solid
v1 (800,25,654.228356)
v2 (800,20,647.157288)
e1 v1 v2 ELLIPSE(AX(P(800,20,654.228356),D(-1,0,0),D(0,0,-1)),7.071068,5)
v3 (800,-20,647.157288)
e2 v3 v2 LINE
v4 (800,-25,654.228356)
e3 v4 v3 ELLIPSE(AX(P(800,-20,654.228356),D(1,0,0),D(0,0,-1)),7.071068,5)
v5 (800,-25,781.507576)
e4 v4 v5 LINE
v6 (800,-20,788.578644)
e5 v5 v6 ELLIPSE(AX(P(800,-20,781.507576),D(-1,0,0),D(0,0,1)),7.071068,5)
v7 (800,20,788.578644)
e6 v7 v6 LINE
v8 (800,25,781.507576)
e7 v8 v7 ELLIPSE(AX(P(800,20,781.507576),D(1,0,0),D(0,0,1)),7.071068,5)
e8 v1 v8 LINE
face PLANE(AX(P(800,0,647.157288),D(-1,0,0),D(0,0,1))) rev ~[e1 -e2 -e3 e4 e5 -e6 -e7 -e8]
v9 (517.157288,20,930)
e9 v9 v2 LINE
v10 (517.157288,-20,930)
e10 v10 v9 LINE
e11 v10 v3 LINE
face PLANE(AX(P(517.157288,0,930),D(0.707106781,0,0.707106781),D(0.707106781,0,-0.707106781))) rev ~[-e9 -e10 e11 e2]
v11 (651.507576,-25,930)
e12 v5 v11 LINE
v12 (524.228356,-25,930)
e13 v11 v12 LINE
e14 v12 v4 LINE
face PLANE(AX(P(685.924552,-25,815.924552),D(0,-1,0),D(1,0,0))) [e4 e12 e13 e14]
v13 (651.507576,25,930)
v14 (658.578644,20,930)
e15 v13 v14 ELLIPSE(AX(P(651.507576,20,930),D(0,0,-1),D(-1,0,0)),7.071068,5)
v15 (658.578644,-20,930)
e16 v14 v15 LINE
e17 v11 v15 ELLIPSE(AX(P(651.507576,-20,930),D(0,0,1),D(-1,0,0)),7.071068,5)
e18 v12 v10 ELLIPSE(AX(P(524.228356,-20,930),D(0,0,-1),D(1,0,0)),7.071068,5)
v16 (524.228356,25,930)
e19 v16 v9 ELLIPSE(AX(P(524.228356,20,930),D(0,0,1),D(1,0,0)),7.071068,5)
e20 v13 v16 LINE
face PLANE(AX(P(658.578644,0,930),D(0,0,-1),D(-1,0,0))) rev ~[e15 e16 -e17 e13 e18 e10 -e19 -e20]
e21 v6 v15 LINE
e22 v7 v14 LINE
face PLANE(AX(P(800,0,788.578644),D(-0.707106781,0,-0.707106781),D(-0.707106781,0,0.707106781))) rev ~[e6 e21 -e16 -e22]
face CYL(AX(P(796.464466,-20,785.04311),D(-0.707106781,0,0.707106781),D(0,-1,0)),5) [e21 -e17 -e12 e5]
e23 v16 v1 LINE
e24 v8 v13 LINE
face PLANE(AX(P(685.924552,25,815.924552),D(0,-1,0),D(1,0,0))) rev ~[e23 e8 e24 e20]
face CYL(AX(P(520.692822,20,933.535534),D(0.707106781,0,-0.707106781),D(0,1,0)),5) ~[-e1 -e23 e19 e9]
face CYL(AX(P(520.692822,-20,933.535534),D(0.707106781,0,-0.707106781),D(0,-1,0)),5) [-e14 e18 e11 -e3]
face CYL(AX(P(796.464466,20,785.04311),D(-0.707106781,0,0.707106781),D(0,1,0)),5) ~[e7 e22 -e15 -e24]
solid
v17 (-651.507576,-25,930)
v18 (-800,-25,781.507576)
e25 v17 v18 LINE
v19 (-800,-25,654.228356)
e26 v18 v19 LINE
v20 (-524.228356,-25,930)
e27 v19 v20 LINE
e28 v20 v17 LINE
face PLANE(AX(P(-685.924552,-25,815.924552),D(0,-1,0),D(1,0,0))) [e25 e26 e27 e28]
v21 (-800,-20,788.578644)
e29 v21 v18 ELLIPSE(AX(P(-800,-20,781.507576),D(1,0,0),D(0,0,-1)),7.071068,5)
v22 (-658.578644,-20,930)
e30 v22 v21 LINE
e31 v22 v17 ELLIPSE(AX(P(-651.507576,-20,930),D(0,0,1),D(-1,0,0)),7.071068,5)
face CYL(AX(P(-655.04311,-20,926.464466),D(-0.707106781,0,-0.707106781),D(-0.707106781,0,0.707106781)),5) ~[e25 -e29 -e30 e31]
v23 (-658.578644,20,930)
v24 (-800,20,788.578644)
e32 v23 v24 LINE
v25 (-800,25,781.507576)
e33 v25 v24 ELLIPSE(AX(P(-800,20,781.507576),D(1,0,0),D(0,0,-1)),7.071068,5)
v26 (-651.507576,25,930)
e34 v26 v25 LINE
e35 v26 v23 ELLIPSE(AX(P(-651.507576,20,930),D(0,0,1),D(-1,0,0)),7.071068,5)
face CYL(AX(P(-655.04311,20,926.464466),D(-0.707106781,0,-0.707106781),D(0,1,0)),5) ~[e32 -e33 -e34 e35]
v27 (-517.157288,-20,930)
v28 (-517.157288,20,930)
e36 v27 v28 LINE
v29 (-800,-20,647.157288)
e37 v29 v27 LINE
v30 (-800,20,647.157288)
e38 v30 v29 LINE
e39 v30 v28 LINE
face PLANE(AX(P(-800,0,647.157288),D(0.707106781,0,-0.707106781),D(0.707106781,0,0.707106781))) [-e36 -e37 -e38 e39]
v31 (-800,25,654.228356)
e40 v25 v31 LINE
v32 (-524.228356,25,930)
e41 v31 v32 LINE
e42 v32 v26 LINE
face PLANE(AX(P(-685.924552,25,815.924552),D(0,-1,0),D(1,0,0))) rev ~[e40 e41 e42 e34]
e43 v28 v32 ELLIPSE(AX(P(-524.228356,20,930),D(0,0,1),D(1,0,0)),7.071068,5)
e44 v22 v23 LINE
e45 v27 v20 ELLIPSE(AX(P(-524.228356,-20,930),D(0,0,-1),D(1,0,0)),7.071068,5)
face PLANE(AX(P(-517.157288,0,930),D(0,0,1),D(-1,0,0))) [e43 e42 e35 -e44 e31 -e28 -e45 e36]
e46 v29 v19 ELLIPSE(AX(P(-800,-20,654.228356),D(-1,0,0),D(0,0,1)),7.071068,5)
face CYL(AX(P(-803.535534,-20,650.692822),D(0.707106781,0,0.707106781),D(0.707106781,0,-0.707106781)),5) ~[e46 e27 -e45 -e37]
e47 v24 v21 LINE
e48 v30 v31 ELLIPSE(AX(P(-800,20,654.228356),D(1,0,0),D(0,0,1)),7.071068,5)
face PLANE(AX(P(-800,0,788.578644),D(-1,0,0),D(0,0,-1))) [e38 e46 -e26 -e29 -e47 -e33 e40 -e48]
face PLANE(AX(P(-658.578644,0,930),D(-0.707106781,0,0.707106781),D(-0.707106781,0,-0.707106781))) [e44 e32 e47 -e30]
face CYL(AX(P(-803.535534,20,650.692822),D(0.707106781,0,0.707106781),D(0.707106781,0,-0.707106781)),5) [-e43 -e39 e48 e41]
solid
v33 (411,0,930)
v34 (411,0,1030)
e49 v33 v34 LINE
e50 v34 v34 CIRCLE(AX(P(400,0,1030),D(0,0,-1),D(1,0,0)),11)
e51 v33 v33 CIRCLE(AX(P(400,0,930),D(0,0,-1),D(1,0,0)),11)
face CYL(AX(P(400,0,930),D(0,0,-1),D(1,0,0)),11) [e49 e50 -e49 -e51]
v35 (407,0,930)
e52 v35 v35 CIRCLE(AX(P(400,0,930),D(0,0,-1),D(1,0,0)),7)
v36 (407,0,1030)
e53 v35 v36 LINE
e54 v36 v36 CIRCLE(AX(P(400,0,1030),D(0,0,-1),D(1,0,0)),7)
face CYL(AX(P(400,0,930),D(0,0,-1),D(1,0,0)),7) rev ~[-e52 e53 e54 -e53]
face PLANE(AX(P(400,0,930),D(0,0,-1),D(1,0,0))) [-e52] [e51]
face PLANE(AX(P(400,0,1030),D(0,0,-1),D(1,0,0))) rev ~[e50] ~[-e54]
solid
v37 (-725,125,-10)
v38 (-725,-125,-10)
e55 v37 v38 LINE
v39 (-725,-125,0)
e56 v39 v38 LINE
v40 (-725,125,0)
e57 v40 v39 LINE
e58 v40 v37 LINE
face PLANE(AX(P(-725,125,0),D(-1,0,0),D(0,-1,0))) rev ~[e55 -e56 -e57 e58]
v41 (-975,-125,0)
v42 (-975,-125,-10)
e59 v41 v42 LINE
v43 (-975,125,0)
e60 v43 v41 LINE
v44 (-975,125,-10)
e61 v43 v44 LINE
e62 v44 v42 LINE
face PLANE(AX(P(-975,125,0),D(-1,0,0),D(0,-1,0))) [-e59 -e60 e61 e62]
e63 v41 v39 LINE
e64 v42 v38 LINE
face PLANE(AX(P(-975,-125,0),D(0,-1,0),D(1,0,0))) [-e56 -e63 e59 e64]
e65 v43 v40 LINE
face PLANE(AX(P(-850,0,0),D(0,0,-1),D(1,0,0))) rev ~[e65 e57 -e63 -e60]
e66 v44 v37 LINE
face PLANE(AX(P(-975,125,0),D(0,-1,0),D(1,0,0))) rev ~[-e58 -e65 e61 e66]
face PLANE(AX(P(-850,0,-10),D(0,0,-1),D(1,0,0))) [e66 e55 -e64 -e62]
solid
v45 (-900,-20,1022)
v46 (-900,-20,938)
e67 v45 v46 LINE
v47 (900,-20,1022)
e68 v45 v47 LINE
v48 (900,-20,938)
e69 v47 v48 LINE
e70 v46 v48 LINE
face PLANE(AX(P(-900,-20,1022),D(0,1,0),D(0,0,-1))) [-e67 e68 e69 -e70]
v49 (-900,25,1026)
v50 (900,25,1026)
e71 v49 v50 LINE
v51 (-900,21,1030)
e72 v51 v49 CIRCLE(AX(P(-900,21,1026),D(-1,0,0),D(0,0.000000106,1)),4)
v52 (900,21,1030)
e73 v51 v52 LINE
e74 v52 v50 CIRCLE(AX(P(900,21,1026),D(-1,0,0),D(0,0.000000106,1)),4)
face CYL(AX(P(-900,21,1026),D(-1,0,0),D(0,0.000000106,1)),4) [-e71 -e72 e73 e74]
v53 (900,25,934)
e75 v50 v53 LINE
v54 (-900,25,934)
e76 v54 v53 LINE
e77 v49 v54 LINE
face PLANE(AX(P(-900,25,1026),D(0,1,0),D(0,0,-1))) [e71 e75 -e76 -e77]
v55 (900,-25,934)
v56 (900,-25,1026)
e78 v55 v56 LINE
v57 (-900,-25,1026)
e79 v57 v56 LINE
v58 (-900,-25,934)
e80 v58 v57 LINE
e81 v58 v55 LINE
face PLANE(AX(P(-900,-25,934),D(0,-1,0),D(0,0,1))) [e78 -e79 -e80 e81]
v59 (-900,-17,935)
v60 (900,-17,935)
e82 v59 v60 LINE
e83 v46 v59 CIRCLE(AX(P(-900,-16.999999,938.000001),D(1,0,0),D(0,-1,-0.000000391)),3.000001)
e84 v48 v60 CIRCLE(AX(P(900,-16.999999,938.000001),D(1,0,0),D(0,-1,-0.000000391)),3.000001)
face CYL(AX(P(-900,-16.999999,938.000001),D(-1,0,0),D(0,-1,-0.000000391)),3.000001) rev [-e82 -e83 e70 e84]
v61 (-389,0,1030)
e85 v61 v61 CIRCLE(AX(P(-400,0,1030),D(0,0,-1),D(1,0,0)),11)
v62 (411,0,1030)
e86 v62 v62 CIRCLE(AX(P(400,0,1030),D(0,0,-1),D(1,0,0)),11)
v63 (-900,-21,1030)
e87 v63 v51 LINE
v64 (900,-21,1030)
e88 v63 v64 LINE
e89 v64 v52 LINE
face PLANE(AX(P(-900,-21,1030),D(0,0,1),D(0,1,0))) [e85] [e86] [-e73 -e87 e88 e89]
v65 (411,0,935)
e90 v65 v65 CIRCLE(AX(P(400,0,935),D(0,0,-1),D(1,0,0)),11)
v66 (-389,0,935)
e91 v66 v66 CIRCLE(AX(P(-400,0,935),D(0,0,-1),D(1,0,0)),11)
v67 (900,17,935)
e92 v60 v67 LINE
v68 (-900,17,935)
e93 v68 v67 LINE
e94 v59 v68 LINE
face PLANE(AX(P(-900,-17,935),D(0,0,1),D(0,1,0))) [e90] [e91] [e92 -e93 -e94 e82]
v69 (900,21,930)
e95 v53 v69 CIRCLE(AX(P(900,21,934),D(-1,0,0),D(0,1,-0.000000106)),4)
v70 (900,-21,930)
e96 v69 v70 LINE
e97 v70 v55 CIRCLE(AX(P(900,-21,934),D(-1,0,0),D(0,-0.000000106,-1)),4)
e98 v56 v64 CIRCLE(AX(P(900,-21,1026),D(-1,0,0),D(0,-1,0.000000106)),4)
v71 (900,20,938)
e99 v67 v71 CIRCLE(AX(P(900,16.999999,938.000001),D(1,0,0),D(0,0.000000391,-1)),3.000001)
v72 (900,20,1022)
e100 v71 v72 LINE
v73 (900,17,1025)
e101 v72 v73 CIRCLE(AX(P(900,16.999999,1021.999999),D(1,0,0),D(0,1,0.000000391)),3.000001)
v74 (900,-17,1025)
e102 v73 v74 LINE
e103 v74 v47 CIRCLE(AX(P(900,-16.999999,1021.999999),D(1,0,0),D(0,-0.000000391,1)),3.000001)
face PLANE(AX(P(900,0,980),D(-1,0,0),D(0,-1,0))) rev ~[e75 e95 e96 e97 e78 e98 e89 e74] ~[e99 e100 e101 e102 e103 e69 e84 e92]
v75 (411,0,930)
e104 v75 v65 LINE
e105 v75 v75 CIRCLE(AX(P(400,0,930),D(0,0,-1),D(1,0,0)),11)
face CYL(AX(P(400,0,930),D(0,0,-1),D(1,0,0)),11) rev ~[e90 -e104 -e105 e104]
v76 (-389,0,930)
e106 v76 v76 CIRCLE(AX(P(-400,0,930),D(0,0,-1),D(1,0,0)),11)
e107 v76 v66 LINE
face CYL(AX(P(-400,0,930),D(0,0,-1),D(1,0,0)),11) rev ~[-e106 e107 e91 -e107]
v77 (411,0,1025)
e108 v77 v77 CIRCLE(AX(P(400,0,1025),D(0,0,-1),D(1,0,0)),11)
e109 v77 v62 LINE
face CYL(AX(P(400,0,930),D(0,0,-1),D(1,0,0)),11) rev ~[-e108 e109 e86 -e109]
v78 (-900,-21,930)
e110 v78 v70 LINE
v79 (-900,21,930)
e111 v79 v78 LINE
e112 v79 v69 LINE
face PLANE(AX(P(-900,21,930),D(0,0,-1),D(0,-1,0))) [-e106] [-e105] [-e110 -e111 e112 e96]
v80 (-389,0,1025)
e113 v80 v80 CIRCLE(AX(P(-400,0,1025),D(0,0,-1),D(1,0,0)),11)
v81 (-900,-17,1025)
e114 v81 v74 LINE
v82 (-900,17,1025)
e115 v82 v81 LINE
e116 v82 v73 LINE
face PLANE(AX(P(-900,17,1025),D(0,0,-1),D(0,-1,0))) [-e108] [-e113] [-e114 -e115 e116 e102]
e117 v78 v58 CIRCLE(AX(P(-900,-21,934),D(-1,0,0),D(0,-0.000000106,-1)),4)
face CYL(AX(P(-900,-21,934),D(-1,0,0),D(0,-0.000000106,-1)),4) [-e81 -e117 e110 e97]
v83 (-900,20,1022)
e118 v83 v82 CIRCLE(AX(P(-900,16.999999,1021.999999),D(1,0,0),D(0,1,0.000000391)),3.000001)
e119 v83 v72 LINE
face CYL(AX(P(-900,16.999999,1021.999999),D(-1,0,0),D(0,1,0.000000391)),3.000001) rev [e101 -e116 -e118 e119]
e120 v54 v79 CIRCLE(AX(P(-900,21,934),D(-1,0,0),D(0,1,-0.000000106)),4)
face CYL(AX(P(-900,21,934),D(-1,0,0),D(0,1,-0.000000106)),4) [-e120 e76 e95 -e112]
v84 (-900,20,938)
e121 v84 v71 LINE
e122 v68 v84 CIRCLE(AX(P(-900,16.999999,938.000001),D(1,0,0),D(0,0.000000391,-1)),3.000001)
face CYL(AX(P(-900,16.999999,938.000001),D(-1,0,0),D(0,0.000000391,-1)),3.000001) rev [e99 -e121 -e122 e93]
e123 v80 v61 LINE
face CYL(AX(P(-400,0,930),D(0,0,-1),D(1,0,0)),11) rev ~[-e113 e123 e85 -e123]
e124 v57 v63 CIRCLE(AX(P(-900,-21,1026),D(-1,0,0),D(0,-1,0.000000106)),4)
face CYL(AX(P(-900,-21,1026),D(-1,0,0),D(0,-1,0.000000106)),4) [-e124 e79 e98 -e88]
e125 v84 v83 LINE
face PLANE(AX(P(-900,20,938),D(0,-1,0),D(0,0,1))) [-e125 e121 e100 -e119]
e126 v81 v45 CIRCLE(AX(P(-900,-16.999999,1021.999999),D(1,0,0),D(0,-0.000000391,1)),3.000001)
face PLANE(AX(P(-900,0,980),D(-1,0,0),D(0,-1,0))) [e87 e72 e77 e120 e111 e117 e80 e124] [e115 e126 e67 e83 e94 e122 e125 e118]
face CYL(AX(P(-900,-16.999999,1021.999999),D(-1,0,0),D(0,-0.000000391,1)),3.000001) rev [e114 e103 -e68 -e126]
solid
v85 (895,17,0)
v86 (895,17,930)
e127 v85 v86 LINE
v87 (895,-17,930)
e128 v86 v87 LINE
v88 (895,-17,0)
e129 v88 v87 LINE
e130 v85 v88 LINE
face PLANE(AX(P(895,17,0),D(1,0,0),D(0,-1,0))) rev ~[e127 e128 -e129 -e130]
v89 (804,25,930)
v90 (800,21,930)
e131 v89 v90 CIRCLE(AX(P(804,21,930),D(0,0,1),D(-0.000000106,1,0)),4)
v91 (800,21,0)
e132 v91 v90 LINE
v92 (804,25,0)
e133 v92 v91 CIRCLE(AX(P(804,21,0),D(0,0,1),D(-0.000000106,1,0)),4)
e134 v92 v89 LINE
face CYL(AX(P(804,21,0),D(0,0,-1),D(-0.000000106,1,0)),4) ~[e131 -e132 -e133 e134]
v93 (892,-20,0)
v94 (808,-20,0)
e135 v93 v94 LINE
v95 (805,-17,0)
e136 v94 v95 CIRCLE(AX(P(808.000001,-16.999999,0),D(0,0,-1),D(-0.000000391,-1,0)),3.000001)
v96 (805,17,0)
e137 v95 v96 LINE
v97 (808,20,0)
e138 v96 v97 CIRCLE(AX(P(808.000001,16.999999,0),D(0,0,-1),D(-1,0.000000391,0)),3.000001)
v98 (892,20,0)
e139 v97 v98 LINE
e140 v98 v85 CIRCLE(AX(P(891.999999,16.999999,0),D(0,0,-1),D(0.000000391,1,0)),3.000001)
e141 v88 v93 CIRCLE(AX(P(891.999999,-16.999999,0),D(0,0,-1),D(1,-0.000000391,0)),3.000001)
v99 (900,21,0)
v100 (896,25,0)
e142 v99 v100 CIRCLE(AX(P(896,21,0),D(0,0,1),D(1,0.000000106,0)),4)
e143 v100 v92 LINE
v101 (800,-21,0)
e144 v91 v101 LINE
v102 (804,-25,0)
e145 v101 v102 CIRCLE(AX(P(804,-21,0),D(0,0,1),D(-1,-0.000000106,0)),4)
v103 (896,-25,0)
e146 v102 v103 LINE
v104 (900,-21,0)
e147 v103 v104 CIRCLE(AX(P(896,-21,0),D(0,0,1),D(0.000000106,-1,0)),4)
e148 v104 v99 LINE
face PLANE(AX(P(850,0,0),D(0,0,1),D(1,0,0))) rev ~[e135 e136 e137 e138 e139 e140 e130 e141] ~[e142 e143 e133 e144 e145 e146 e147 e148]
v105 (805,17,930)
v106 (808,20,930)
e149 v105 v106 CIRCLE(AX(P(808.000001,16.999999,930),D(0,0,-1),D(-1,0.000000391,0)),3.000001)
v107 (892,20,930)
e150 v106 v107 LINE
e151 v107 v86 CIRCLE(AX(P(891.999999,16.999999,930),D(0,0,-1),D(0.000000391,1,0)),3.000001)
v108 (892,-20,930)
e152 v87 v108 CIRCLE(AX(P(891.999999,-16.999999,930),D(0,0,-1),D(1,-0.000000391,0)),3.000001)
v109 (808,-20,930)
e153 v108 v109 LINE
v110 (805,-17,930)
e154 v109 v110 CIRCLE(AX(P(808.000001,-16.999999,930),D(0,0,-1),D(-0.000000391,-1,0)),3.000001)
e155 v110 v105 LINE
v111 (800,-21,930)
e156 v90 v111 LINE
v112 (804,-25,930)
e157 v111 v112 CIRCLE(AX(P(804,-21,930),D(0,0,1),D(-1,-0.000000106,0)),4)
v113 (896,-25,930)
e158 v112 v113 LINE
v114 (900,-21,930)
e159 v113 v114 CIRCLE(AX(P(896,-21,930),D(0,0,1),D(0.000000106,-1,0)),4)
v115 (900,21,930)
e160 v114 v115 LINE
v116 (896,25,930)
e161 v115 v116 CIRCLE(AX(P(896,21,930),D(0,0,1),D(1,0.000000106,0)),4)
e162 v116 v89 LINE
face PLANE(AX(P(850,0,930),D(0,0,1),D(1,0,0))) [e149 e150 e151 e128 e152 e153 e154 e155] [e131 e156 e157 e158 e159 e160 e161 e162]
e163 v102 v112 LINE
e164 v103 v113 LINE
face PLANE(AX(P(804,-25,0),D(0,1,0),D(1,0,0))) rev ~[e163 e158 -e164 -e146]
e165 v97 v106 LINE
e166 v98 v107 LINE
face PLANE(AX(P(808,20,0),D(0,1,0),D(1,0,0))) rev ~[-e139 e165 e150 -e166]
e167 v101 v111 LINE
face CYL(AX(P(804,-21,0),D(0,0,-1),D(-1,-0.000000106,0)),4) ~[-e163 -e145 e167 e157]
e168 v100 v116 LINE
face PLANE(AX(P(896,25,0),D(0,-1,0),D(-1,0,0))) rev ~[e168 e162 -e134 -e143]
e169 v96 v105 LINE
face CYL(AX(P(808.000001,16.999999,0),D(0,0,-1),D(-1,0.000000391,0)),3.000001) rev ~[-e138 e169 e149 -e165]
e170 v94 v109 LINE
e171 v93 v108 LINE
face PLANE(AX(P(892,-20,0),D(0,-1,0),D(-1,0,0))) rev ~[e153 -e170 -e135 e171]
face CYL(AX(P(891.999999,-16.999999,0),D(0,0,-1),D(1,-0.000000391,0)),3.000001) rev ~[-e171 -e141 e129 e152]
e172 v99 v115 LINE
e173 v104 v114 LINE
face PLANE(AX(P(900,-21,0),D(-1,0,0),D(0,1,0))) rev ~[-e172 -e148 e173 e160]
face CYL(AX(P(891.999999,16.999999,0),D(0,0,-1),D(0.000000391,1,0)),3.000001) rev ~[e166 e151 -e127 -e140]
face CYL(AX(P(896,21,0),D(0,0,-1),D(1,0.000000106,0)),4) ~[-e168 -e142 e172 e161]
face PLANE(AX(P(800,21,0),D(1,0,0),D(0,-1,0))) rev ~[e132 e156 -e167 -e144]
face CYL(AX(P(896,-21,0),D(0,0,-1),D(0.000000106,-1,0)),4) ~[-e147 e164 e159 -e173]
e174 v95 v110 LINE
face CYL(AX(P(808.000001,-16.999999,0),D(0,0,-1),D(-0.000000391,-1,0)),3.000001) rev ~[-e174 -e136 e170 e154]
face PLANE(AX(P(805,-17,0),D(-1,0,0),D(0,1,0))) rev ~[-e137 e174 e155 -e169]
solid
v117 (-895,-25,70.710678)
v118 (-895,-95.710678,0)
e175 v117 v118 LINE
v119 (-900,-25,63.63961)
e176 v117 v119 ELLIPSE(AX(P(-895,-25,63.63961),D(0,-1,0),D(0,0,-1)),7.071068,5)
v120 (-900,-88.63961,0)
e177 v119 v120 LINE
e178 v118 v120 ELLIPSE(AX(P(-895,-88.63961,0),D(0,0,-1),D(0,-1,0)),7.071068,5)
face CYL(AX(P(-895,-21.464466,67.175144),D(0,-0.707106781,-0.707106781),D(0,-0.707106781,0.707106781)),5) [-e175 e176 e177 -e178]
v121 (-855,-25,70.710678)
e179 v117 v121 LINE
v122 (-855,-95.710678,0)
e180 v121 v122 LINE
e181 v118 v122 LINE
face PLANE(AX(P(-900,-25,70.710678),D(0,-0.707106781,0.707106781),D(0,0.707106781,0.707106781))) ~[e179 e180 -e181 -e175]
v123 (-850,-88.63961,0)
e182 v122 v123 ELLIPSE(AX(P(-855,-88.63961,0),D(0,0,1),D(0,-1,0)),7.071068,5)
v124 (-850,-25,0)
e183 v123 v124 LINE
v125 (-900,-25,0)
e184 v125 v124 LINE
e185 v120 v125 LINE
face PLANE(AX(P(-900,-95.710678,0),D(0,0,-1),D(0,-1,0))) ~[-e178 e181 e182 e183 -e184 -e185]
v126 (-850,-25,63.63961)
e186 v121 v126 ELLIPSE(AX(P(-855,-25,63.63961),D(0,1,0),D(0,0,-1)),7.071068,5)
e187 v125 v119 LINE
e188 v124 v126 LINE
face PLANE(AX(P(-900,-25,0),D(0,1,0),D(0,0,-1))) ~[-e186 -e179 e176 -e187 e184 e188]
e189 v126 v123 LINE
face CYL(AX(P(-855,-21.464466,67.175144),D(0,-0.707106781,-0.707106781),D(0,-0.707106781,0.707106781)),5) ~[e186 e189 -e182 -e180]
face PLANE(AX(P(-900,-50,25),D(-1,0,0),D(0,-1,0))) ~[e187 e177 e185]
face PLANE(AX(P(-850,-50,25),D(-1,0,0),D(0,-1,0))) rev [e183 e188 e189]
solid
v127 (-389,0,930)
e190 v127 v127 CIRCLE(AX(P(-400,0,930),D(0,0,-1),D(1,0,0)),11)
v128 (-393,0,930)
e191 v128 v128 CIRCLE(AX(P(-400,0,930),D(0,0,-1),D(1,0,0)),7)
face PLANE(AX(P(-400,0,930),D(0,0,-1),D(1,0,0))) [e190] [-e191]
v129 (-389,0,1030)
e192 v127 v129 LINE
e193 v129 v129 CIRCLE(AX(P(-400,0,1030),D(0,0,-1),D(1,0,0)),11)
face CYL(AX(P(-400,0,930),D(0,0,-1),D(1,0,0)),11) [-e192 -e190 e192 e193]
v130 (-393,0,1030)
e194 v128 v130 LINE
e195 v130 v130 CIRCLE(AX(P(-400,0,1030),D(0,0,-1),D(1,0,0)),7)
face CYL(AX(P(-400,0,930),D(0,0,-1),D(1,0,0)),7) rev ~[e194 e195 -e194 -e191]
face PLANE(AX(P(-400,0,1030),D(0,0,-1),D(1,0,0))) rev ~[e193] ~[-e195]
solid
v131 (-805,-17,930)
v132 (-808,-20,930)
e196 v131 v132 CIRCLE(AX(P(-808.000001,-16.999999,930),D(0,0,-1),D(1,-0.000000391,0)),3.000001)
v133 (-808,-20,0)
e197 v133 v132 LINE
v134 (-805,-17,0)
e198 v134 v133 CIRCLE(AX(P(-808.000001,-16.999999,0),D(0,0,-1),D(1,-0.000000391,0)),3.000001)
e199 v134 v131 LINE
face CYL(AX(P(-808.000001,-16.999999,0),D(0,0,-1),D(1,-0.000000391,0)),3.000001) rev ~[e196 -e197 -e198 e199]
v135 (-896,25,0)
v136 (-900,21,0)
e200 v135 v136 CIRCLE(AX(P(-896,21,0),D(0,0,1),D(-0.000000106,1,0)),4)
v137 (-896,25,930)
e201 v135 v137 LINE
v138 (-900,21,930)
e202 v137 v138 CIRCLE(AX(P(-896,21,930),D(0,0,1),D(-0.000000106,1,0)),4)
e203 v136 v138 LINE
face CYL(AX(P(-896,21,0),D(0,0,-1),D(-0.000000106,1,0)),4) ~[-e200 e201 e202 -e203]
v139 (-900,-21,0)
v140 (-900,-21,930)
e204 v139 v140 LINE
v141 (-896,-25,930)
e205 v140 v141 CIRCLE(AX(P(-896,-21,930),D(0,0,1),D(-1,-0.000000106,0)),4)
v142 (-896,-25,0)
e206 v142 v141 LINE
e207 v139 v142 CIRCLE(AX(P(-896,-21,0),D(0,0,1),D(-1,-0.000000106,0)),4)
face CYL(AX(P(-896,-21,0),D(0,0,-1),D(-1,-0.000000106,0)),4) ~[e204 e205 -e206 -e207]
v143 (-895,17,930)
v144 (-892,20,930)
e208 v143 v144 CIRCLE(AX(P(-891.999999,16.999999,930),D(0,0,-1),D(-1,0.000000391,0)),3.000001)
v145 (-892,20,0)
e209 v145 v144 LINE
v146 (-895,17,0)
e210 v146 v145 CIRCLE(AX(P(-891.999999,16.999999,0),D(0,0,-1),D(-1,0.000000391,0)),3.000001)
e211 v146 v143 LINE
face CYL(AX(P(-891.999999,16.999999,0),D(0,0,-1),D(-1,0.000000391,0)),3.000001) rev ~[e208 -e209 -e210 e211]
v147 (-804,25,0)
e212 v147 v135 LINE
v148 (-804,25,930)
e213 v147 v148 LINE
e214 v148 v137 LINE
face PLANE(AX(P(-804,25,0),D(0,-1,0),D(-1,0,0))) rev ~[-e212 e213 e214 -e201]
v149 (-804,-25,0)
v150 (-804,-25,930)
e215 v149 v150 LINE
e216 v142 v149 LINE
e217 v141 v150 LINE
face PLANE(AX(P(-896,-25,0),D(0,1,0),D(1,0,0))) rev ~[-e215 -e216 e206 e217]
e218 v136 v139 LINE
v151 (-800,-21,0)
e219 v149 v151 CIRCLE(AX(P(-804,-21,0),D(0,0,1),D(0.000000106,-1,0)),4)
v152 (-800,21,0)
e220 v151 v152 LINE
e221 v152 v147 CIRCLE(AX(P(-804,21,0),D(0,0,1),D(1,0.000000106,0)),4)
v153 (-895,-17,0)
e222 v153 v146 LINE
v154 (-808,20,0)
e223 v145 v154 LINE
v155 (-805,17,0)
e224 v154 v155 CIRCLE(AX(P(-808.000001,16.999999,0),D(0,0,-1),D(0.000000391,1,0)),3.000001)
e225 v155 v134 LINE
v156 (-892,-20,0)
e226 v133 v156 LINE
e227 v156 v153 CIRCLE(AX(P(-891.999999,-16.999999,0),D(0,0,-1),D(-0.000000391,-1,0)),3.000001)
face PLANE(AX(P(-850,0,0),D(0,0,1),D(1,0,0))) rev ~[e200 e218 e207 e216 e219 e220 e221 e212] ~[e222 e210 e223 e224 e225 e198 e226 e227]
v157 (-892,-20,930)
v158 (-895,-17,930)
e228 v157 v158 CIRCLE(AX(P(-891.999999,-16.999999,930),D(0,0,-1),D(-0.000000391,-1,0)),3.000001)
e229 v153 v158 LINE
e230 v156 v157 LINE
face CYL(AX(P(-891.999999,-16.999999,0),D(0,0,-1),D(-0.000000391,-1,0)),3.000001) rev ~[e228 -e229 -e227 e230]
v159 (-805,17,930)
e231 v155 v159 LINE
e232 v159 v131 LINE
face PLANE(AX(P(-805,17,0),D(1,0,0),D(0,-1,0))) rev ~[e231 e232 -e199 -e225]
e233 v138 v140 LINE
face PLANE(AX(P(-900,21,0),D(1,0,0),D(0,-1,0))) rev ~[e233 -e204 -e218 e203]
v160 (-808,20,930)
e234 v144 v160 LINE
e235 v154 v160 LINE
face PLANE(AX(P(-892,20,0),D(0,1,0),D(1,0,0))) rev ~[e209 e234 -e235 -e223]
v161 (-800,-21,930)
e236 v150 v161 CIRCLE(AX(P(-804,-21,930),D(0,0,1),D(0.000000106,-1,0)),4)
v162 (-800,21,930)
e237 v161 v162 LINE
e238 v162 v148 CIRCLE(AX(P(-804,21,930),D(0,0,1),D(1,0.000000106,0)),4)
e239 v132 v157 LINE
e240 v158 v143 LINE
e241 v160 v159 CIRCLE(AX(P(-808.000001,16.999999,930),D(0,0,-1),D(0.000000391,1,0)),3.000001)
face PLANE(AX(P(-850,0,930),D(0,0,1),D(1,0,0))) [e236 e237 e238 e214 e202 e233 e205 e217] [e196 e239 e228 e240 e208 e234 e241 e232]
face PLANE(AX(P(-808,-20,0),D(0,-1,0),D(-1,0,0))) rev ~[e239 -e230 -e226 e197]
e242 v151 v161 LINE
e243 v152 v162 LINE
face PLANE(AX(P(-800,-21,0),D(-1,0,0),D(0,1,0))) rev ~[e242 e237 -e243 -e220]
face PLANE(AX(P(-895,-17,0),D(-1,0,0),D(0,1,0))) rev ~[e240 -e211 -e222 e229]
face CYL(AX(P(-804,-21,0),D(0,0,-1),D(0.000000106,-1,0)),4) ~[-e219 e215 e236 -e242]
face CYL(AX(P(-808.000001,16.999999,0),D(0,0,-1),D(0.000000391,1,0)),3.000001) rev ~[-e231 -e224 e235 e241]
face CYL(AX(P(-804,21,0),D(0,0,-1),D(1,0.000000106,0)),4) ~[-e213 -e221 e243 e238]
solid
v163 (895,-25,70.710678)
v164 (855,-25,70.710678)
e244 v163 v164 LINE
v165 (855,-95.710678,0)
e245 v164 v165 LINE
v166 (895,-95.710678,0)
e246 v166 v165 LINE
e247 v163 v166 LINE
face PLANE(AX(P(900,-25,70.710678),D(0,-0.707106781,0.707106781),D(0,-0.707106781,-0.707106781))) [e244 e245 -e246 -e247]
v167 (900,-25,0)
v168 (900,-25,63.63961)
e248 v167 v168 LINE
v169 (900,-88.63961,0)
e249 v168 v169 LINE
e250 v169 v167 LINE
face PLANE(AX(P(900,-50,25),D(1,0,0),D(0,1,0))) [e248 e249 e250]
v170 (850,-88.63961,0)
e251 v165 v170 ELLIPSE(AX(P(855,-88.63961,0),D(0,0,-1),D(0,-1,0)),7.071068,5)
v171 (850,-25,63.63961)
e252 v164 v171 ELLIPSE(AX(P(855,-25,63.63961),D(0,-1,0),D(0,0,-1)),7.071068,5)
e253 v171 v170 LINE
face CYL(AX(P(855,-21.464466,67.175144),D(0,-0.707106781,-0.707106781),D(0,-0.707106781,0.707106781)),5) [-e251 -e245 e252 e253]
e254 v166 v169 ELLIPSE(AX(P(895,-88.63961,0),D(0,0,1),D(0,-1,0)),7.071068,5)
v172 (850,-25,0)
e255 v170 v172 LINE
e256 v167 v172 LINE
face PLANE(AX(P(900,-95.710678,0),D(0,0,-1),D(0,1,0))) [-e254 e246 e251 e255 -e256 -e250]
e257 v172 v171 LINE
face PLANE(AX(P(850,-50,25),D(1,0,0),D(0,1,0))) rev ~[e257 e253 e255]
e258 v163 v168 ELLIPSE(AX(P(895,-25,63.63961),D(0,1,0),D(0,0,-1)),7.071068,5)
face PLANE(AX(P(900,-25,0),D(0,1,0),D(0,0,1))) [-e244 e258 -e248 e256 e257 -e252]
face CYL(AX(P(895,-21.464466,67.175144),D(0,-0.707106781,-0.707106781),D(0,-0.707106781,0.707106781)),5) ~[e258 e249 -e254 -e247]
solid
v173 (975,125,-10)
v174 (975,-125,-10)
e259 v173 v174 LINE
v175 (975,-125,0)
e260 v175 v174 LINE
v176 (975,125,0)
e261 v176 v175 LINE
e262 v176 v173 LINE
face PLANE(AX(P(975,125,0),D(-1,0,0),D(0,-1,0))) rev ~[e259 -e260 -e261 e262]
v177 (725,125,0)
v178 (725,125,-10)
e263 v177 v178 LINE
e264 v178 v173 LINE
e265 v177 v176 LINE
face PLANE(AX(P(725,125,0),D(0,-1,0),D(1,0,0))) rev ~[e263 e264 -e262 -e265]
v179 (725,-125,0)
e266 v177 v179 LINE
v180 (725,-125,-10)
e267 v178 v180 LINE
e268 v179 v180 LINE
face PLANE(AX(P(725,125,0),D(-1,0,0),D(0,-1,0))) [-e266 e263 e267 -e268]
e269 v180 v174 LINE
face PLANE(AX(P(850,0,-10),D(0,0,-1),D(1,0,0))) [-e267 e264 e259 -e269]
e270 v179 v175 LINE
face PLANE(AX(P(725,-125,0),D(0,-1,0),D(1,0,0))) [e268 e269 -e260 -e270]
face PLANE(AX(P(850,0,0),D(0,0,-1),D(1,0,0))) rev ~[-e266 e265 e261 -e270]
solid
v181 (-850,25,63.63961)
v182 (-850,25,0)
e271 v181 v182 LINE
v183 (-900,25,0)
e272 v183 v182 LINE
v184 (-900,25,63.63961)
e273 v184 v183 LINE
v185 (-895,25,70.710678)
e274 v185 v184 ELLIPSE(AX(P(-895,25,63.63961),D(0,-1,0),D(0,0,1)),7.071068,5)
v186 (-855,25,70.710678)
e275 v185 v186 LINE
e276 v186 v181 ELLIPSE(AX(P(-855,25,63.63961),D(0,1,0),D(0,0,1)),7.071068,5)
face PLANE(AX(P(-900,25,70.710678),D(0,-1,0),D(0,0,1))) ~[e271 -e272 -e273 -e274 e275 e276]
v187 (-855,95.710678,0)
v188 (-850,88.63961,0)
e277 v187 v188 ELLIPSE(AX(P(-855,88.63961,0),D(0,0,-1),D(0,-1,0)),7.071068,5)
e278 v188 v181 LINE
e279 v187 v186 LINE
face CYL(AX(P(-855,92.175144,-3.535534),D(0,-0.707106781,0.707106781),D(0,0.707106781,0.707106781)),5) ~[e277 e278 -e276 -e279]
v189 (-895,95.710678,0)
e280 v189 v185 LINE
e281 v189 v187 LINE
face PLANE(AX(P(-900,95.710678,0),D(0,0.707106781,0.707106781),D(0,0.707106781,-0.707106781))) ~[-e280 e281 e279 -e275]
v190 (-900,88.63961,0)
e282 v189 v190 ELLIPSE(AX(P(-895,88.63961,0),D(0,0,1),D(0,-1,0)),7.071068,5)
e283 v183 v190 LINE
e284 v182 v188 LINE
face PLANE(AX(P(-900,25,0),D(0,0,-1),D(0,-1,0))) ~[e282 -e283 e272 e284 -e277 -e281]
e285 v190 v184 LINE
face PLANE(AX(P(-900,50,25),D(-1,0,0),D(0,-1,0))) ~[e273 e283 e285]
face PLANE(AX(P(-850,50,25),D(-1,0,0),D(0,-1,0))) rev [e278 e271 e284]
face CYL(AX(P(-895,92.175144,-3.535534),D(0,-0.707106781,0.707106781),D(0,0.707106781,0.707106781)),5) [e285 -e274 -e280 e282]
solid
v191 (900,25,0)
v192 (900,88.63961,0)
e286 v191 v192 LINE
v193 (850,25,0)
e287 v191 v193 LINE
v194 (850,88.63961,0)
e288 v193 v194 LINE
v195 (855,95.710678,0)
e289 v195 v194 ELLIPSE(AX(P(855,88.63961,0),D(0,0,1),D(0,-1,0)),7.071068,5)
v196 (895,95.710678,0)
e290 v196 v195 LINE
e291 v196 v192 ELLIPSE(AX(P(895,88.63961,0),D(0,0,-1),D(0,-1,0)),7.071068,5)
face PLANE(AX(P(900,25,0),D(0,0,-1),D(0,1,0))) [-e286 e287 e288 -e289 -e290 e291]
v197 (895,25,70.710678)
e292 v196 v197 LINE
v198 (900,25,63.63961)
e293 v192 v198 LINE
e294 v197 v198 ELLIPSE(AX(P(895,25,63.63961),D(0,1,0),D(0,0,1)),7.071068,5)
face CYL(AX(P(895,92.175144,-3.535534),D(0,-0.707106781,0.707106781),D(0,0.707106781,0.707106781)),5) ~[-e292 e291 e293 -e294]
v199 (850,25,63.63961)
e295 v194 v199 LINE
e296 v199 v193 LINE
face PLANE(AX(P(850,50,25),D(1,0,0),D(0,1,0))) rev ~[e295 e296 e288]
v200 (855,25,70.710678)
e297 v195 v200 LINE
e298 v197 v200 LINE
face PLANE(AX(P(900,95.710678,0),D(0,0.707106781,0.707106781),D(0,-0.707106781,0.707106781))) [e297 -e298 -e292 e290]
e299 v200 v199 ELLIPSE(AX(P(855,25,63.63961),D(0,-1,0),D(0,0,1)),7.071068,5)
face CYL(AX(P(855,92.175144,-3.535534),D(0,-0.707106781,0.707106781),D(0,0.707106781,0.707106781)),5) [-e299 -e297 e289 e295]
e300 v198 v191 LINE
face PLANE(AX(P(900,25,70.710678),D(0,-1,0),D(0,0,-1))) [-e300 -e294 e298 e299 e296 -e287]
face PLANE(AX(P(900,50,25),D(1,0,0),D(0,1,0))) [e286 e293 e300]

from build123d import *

# Parameters (mm, degrees)
F1_DEPTH  = 930
F3_DEPTH  = 1800
F5_DEPTH  = 25
F6_R      = 5
F7_W      = 250
F7_H      = 250
F8_DEPTH  = 10
F10_DEPTH = 50
F11_R     = 5
F13_R     = 11
F14_DEPTH = 100
F15_R     = 11
F15_R_2   = 7
F16_DEPTH = 100
F17_R     = 5
F18_R     = 5


with BuildPart() as f1:
    # F0 (on Top) → F1 (new body)
    with BuildSketch(Plane.XY):
        with BuildLine():
            Line((-896, -25), (-804, -25))
            ThreePointArc((-804, -25), (-801.171573, -23.828427), (-800, -21))
            Line((-800, -21), (-800, 21))
            ThreePointArc((-800, 21), (-801.171573, 23.828427), (-804, 25))
            Line((-804, 25), (-896, 25))
            ThreePointArc((-896, 25), (-898.828427, 23.828427), (-900, 21))
            Line((-900, 21), (-900, -21))
            ThreePointArc((-900, -21), (-898.828427, -23.828427), (-896, -25))
        make_face()
        with BuildLine():
            ThreePointArc((-805, -17), (-805.87868, -19.12132), (-808, -20))
            Line((-808, -20), (-892, -20))
            ThreePointArc((-892, -20), (-894.12132, -19.12132), (-895, -17))
            Line((-895, -17), (-895, 17))
            ThreePointArc((-895, 17), (-894.12132, 19.12132), (-892, 20))
            Line((-892, 20), (-808, 20))
            ThreePointArc((-808, 20), (-805.87868, 19.12132), (-805, 17))
            Line((-805, 17), (-805, -17))
        make_face(mode=Mode.SUBTRACT)
        with BuildLine():
            ThreePointArc((804, 25), (801.171573, 23.828427), (800, 21))
            Line((800, 21), (800, -21))
            ThreePointArc((800, -21), (801.171573, -23.828427), (804, -25))
            Line((804, -25), (896, -25))
            ThreePointArc((896, -25), (898.828427, -23.828427), (900, -21))
            Line((900, -21), (900, 21))
            ThreePointArc((900, 21), (898.828427, 23.828427), (896, 25))
            Line((896, 25), (804, 25))
        make_face()
        with BuildLine():
            Line((892, -20), (808, -20))
            ThreePointArc((808, -20), (805.87868, -19.12132), (805, -17))
            Line((805, -17), (805, 17))
            ThreePointArc((805, 17), (805.87868, 19.12132), (808, 20))
            Line((808, 20), (892, 20))
            ThreePointArc((892, 20), (894.12132, 19.12132), (895, 17))
            Line((895, 17), (895, -17))
            ThreePointArc((895, -17), (894.12132, -19.12132), (892, -20))
        make_face(mode=Mode.SUBTRACT)
    extrude(amount=F1_DEPTH)


with BuildPart() as f3:
    # F2 (on face) → F3 (new body)
    with BuildSketch(Plane(origin=(-900, 0, 0), x_dir=(0, -1, 0), z_dir=(-1, 0, 0))):
        with BuildLine():
            Line((-21, 930), (21, 930))
            ThreePointArc((21, 930), (23.828427, 931.171573), (25, 934))
            Line((25, 934), (25, 1026))
            ThreePointArc((25, 1026), (23.828427, 1028.828427), (21, 1030))
            Line((21, 1030), (-21, 1030))
            ThreePointArc((-21, 1030), (-23.828427, 1028.828427), (-25, 1026))
            Line((-25, 1026), (-25, 934))
            ThreePointArc((-25, 934), (-23.828427, 931.171573), (-21, 930))
        make_face()
        with BuildLine():
            ThreePointArc((20, 938), (19.12132, 935.87868), (17, 935))
            Line((17, 935), (-17, 935))
            ThreePointArc((-17, 935), (-19.12132, 935.87868), (-20, 938))
            Line((-20, 938), (-20, 1022))
            ThreePointArc((-20, 1022), (-19.12132, 1024.12132), (-17, 1025))
            Line((-17, 1025), (17, 1025))
            ThreePointArc((17, 1025), (19.12132, 1024.12132), (20, 1022))
            Line((20, 1022), (20, 938))
        make_face(mode=Mode.SUBTRACT)
    extrude(amount=-F3_DEPTH)

    # F13 (on face) → F14 (cut)
    with BuildSketch(Plane(origin=(0, 0, 930), x_dir=(1, 0, 0), z_dir=(0, 0, -1))):
        with Locations((-400, 0)):
            Circle(F13_R)
        with Locations((400, 0)):
            Circle(F13_R)
    extrude(amount=-F14_DEPTH, mode=Mode.SUBTRACT)


with BuildPart() as f5:
    # F4 (on Front) → F5 (new body, symmetric)
    with BuildSketch(Plane.XZ):
        Polygon((800, 647.157288), (800, 788.578644), (658.578644, 930), (517.157288, 930), align=None)
        Polygon((-658.578644, 930), (-800, 788.578644), (-800, 647.157288), (-517.157288, 930), align=None)
    extrude(amount=F5_DEPTH, both=True)

    # F6
    f6_edges = [f5.edges().sort_by_distance(p)[0] for p in [
        (658.578644, 25, 788.578644),
        (658.578644, -25, 788.578644),
        (-658.578644, 25, 788.578644),
        (-658.578644, -25, 788.578644),
    ]]
    fillet(f6_edges, radius=F6_R)

    # F17
    f17_edges = [f5.edges().sort_by_distance(p)[0] for p in [
        (-729.289322, -25, 859.289322),
        (-729.289322, 25, 859.289322),
    ]]
    fillet(f17_edges, radius=F17_R)

    # F18
    f18_edges = [f5.edges().sort_by_distance(p)[0] for p in [
        (729.289322, 25, 859.289322),
        (729.289322, -25, 859.289322),
    ]]
    fillet(f18_edges, radius=F18_R)


with BuildPart() as f8:
    # F7 (on face) → F8 (new body)
    with BuildSketch(Plane(origin=(0, 0, 0), x_dir=(1, 0, 0), z_dir=(0, 0, -1))):
        with Locations((850, 0)):
            Rectangle(F7_W, F7_H)
        with Locations((-850, 0)):
            Rectangle(F7_W, F7_H)
    extrude(amount=F8_DEPTH)


with BuildPart() as f10:
    # F9 (on face) → F10 (new body)
    with BuildSketch(Plane.YZ.offset(900)):
        Polygon((-25, 0), (-25, 70.710678), (-95.710678, 0), align=None)
        Polygon((95.710678, 0), (25, 70.710678), (25, 0), align=None)
    extrude(amount=-F10_DEPTH)

    # F11
    f11_edges = [f10.edges().sort_by_distance(p)[0] for p in [
        (900, 60.355339, 35.355339),
        (850, 60.355339, 35.355339),
        (900, -60.355339, 35.355339),
        (850, -60.355339, 35.355339),
    ]]
    fillet(f11_edges, radius=F11_R)


with BuildPart() as f12_1:
    # F12: instance of F10
    add(f10.part.mirror(Plane.YZ))


with BuildPart() as f16:
    # F15 (on face) → F16 (new body)
    with BuildSketch(Plane(origin=(0, 0, 930), x_dir=(1, 0, 0), z_dir=(0, 0, -1))):
        with Locations((-400, 0)):
            Circle(F15_R)
        with Locations((-400, 0)):
            Circle(F15_R_2, mode=Mode.SUBTRACT)
        with Locations((400, 0)):
            Circle(F15_R)
        with Locations((400, 0)):
            Circle(F15_R_2, mode=Mode.SUBTRACT)
    extrude(amount=-F16_DEPTH)


solid = Compound([f1.part, f3.part, f5.part, f8.part, f10.part, f12_1.part, f16.part])
